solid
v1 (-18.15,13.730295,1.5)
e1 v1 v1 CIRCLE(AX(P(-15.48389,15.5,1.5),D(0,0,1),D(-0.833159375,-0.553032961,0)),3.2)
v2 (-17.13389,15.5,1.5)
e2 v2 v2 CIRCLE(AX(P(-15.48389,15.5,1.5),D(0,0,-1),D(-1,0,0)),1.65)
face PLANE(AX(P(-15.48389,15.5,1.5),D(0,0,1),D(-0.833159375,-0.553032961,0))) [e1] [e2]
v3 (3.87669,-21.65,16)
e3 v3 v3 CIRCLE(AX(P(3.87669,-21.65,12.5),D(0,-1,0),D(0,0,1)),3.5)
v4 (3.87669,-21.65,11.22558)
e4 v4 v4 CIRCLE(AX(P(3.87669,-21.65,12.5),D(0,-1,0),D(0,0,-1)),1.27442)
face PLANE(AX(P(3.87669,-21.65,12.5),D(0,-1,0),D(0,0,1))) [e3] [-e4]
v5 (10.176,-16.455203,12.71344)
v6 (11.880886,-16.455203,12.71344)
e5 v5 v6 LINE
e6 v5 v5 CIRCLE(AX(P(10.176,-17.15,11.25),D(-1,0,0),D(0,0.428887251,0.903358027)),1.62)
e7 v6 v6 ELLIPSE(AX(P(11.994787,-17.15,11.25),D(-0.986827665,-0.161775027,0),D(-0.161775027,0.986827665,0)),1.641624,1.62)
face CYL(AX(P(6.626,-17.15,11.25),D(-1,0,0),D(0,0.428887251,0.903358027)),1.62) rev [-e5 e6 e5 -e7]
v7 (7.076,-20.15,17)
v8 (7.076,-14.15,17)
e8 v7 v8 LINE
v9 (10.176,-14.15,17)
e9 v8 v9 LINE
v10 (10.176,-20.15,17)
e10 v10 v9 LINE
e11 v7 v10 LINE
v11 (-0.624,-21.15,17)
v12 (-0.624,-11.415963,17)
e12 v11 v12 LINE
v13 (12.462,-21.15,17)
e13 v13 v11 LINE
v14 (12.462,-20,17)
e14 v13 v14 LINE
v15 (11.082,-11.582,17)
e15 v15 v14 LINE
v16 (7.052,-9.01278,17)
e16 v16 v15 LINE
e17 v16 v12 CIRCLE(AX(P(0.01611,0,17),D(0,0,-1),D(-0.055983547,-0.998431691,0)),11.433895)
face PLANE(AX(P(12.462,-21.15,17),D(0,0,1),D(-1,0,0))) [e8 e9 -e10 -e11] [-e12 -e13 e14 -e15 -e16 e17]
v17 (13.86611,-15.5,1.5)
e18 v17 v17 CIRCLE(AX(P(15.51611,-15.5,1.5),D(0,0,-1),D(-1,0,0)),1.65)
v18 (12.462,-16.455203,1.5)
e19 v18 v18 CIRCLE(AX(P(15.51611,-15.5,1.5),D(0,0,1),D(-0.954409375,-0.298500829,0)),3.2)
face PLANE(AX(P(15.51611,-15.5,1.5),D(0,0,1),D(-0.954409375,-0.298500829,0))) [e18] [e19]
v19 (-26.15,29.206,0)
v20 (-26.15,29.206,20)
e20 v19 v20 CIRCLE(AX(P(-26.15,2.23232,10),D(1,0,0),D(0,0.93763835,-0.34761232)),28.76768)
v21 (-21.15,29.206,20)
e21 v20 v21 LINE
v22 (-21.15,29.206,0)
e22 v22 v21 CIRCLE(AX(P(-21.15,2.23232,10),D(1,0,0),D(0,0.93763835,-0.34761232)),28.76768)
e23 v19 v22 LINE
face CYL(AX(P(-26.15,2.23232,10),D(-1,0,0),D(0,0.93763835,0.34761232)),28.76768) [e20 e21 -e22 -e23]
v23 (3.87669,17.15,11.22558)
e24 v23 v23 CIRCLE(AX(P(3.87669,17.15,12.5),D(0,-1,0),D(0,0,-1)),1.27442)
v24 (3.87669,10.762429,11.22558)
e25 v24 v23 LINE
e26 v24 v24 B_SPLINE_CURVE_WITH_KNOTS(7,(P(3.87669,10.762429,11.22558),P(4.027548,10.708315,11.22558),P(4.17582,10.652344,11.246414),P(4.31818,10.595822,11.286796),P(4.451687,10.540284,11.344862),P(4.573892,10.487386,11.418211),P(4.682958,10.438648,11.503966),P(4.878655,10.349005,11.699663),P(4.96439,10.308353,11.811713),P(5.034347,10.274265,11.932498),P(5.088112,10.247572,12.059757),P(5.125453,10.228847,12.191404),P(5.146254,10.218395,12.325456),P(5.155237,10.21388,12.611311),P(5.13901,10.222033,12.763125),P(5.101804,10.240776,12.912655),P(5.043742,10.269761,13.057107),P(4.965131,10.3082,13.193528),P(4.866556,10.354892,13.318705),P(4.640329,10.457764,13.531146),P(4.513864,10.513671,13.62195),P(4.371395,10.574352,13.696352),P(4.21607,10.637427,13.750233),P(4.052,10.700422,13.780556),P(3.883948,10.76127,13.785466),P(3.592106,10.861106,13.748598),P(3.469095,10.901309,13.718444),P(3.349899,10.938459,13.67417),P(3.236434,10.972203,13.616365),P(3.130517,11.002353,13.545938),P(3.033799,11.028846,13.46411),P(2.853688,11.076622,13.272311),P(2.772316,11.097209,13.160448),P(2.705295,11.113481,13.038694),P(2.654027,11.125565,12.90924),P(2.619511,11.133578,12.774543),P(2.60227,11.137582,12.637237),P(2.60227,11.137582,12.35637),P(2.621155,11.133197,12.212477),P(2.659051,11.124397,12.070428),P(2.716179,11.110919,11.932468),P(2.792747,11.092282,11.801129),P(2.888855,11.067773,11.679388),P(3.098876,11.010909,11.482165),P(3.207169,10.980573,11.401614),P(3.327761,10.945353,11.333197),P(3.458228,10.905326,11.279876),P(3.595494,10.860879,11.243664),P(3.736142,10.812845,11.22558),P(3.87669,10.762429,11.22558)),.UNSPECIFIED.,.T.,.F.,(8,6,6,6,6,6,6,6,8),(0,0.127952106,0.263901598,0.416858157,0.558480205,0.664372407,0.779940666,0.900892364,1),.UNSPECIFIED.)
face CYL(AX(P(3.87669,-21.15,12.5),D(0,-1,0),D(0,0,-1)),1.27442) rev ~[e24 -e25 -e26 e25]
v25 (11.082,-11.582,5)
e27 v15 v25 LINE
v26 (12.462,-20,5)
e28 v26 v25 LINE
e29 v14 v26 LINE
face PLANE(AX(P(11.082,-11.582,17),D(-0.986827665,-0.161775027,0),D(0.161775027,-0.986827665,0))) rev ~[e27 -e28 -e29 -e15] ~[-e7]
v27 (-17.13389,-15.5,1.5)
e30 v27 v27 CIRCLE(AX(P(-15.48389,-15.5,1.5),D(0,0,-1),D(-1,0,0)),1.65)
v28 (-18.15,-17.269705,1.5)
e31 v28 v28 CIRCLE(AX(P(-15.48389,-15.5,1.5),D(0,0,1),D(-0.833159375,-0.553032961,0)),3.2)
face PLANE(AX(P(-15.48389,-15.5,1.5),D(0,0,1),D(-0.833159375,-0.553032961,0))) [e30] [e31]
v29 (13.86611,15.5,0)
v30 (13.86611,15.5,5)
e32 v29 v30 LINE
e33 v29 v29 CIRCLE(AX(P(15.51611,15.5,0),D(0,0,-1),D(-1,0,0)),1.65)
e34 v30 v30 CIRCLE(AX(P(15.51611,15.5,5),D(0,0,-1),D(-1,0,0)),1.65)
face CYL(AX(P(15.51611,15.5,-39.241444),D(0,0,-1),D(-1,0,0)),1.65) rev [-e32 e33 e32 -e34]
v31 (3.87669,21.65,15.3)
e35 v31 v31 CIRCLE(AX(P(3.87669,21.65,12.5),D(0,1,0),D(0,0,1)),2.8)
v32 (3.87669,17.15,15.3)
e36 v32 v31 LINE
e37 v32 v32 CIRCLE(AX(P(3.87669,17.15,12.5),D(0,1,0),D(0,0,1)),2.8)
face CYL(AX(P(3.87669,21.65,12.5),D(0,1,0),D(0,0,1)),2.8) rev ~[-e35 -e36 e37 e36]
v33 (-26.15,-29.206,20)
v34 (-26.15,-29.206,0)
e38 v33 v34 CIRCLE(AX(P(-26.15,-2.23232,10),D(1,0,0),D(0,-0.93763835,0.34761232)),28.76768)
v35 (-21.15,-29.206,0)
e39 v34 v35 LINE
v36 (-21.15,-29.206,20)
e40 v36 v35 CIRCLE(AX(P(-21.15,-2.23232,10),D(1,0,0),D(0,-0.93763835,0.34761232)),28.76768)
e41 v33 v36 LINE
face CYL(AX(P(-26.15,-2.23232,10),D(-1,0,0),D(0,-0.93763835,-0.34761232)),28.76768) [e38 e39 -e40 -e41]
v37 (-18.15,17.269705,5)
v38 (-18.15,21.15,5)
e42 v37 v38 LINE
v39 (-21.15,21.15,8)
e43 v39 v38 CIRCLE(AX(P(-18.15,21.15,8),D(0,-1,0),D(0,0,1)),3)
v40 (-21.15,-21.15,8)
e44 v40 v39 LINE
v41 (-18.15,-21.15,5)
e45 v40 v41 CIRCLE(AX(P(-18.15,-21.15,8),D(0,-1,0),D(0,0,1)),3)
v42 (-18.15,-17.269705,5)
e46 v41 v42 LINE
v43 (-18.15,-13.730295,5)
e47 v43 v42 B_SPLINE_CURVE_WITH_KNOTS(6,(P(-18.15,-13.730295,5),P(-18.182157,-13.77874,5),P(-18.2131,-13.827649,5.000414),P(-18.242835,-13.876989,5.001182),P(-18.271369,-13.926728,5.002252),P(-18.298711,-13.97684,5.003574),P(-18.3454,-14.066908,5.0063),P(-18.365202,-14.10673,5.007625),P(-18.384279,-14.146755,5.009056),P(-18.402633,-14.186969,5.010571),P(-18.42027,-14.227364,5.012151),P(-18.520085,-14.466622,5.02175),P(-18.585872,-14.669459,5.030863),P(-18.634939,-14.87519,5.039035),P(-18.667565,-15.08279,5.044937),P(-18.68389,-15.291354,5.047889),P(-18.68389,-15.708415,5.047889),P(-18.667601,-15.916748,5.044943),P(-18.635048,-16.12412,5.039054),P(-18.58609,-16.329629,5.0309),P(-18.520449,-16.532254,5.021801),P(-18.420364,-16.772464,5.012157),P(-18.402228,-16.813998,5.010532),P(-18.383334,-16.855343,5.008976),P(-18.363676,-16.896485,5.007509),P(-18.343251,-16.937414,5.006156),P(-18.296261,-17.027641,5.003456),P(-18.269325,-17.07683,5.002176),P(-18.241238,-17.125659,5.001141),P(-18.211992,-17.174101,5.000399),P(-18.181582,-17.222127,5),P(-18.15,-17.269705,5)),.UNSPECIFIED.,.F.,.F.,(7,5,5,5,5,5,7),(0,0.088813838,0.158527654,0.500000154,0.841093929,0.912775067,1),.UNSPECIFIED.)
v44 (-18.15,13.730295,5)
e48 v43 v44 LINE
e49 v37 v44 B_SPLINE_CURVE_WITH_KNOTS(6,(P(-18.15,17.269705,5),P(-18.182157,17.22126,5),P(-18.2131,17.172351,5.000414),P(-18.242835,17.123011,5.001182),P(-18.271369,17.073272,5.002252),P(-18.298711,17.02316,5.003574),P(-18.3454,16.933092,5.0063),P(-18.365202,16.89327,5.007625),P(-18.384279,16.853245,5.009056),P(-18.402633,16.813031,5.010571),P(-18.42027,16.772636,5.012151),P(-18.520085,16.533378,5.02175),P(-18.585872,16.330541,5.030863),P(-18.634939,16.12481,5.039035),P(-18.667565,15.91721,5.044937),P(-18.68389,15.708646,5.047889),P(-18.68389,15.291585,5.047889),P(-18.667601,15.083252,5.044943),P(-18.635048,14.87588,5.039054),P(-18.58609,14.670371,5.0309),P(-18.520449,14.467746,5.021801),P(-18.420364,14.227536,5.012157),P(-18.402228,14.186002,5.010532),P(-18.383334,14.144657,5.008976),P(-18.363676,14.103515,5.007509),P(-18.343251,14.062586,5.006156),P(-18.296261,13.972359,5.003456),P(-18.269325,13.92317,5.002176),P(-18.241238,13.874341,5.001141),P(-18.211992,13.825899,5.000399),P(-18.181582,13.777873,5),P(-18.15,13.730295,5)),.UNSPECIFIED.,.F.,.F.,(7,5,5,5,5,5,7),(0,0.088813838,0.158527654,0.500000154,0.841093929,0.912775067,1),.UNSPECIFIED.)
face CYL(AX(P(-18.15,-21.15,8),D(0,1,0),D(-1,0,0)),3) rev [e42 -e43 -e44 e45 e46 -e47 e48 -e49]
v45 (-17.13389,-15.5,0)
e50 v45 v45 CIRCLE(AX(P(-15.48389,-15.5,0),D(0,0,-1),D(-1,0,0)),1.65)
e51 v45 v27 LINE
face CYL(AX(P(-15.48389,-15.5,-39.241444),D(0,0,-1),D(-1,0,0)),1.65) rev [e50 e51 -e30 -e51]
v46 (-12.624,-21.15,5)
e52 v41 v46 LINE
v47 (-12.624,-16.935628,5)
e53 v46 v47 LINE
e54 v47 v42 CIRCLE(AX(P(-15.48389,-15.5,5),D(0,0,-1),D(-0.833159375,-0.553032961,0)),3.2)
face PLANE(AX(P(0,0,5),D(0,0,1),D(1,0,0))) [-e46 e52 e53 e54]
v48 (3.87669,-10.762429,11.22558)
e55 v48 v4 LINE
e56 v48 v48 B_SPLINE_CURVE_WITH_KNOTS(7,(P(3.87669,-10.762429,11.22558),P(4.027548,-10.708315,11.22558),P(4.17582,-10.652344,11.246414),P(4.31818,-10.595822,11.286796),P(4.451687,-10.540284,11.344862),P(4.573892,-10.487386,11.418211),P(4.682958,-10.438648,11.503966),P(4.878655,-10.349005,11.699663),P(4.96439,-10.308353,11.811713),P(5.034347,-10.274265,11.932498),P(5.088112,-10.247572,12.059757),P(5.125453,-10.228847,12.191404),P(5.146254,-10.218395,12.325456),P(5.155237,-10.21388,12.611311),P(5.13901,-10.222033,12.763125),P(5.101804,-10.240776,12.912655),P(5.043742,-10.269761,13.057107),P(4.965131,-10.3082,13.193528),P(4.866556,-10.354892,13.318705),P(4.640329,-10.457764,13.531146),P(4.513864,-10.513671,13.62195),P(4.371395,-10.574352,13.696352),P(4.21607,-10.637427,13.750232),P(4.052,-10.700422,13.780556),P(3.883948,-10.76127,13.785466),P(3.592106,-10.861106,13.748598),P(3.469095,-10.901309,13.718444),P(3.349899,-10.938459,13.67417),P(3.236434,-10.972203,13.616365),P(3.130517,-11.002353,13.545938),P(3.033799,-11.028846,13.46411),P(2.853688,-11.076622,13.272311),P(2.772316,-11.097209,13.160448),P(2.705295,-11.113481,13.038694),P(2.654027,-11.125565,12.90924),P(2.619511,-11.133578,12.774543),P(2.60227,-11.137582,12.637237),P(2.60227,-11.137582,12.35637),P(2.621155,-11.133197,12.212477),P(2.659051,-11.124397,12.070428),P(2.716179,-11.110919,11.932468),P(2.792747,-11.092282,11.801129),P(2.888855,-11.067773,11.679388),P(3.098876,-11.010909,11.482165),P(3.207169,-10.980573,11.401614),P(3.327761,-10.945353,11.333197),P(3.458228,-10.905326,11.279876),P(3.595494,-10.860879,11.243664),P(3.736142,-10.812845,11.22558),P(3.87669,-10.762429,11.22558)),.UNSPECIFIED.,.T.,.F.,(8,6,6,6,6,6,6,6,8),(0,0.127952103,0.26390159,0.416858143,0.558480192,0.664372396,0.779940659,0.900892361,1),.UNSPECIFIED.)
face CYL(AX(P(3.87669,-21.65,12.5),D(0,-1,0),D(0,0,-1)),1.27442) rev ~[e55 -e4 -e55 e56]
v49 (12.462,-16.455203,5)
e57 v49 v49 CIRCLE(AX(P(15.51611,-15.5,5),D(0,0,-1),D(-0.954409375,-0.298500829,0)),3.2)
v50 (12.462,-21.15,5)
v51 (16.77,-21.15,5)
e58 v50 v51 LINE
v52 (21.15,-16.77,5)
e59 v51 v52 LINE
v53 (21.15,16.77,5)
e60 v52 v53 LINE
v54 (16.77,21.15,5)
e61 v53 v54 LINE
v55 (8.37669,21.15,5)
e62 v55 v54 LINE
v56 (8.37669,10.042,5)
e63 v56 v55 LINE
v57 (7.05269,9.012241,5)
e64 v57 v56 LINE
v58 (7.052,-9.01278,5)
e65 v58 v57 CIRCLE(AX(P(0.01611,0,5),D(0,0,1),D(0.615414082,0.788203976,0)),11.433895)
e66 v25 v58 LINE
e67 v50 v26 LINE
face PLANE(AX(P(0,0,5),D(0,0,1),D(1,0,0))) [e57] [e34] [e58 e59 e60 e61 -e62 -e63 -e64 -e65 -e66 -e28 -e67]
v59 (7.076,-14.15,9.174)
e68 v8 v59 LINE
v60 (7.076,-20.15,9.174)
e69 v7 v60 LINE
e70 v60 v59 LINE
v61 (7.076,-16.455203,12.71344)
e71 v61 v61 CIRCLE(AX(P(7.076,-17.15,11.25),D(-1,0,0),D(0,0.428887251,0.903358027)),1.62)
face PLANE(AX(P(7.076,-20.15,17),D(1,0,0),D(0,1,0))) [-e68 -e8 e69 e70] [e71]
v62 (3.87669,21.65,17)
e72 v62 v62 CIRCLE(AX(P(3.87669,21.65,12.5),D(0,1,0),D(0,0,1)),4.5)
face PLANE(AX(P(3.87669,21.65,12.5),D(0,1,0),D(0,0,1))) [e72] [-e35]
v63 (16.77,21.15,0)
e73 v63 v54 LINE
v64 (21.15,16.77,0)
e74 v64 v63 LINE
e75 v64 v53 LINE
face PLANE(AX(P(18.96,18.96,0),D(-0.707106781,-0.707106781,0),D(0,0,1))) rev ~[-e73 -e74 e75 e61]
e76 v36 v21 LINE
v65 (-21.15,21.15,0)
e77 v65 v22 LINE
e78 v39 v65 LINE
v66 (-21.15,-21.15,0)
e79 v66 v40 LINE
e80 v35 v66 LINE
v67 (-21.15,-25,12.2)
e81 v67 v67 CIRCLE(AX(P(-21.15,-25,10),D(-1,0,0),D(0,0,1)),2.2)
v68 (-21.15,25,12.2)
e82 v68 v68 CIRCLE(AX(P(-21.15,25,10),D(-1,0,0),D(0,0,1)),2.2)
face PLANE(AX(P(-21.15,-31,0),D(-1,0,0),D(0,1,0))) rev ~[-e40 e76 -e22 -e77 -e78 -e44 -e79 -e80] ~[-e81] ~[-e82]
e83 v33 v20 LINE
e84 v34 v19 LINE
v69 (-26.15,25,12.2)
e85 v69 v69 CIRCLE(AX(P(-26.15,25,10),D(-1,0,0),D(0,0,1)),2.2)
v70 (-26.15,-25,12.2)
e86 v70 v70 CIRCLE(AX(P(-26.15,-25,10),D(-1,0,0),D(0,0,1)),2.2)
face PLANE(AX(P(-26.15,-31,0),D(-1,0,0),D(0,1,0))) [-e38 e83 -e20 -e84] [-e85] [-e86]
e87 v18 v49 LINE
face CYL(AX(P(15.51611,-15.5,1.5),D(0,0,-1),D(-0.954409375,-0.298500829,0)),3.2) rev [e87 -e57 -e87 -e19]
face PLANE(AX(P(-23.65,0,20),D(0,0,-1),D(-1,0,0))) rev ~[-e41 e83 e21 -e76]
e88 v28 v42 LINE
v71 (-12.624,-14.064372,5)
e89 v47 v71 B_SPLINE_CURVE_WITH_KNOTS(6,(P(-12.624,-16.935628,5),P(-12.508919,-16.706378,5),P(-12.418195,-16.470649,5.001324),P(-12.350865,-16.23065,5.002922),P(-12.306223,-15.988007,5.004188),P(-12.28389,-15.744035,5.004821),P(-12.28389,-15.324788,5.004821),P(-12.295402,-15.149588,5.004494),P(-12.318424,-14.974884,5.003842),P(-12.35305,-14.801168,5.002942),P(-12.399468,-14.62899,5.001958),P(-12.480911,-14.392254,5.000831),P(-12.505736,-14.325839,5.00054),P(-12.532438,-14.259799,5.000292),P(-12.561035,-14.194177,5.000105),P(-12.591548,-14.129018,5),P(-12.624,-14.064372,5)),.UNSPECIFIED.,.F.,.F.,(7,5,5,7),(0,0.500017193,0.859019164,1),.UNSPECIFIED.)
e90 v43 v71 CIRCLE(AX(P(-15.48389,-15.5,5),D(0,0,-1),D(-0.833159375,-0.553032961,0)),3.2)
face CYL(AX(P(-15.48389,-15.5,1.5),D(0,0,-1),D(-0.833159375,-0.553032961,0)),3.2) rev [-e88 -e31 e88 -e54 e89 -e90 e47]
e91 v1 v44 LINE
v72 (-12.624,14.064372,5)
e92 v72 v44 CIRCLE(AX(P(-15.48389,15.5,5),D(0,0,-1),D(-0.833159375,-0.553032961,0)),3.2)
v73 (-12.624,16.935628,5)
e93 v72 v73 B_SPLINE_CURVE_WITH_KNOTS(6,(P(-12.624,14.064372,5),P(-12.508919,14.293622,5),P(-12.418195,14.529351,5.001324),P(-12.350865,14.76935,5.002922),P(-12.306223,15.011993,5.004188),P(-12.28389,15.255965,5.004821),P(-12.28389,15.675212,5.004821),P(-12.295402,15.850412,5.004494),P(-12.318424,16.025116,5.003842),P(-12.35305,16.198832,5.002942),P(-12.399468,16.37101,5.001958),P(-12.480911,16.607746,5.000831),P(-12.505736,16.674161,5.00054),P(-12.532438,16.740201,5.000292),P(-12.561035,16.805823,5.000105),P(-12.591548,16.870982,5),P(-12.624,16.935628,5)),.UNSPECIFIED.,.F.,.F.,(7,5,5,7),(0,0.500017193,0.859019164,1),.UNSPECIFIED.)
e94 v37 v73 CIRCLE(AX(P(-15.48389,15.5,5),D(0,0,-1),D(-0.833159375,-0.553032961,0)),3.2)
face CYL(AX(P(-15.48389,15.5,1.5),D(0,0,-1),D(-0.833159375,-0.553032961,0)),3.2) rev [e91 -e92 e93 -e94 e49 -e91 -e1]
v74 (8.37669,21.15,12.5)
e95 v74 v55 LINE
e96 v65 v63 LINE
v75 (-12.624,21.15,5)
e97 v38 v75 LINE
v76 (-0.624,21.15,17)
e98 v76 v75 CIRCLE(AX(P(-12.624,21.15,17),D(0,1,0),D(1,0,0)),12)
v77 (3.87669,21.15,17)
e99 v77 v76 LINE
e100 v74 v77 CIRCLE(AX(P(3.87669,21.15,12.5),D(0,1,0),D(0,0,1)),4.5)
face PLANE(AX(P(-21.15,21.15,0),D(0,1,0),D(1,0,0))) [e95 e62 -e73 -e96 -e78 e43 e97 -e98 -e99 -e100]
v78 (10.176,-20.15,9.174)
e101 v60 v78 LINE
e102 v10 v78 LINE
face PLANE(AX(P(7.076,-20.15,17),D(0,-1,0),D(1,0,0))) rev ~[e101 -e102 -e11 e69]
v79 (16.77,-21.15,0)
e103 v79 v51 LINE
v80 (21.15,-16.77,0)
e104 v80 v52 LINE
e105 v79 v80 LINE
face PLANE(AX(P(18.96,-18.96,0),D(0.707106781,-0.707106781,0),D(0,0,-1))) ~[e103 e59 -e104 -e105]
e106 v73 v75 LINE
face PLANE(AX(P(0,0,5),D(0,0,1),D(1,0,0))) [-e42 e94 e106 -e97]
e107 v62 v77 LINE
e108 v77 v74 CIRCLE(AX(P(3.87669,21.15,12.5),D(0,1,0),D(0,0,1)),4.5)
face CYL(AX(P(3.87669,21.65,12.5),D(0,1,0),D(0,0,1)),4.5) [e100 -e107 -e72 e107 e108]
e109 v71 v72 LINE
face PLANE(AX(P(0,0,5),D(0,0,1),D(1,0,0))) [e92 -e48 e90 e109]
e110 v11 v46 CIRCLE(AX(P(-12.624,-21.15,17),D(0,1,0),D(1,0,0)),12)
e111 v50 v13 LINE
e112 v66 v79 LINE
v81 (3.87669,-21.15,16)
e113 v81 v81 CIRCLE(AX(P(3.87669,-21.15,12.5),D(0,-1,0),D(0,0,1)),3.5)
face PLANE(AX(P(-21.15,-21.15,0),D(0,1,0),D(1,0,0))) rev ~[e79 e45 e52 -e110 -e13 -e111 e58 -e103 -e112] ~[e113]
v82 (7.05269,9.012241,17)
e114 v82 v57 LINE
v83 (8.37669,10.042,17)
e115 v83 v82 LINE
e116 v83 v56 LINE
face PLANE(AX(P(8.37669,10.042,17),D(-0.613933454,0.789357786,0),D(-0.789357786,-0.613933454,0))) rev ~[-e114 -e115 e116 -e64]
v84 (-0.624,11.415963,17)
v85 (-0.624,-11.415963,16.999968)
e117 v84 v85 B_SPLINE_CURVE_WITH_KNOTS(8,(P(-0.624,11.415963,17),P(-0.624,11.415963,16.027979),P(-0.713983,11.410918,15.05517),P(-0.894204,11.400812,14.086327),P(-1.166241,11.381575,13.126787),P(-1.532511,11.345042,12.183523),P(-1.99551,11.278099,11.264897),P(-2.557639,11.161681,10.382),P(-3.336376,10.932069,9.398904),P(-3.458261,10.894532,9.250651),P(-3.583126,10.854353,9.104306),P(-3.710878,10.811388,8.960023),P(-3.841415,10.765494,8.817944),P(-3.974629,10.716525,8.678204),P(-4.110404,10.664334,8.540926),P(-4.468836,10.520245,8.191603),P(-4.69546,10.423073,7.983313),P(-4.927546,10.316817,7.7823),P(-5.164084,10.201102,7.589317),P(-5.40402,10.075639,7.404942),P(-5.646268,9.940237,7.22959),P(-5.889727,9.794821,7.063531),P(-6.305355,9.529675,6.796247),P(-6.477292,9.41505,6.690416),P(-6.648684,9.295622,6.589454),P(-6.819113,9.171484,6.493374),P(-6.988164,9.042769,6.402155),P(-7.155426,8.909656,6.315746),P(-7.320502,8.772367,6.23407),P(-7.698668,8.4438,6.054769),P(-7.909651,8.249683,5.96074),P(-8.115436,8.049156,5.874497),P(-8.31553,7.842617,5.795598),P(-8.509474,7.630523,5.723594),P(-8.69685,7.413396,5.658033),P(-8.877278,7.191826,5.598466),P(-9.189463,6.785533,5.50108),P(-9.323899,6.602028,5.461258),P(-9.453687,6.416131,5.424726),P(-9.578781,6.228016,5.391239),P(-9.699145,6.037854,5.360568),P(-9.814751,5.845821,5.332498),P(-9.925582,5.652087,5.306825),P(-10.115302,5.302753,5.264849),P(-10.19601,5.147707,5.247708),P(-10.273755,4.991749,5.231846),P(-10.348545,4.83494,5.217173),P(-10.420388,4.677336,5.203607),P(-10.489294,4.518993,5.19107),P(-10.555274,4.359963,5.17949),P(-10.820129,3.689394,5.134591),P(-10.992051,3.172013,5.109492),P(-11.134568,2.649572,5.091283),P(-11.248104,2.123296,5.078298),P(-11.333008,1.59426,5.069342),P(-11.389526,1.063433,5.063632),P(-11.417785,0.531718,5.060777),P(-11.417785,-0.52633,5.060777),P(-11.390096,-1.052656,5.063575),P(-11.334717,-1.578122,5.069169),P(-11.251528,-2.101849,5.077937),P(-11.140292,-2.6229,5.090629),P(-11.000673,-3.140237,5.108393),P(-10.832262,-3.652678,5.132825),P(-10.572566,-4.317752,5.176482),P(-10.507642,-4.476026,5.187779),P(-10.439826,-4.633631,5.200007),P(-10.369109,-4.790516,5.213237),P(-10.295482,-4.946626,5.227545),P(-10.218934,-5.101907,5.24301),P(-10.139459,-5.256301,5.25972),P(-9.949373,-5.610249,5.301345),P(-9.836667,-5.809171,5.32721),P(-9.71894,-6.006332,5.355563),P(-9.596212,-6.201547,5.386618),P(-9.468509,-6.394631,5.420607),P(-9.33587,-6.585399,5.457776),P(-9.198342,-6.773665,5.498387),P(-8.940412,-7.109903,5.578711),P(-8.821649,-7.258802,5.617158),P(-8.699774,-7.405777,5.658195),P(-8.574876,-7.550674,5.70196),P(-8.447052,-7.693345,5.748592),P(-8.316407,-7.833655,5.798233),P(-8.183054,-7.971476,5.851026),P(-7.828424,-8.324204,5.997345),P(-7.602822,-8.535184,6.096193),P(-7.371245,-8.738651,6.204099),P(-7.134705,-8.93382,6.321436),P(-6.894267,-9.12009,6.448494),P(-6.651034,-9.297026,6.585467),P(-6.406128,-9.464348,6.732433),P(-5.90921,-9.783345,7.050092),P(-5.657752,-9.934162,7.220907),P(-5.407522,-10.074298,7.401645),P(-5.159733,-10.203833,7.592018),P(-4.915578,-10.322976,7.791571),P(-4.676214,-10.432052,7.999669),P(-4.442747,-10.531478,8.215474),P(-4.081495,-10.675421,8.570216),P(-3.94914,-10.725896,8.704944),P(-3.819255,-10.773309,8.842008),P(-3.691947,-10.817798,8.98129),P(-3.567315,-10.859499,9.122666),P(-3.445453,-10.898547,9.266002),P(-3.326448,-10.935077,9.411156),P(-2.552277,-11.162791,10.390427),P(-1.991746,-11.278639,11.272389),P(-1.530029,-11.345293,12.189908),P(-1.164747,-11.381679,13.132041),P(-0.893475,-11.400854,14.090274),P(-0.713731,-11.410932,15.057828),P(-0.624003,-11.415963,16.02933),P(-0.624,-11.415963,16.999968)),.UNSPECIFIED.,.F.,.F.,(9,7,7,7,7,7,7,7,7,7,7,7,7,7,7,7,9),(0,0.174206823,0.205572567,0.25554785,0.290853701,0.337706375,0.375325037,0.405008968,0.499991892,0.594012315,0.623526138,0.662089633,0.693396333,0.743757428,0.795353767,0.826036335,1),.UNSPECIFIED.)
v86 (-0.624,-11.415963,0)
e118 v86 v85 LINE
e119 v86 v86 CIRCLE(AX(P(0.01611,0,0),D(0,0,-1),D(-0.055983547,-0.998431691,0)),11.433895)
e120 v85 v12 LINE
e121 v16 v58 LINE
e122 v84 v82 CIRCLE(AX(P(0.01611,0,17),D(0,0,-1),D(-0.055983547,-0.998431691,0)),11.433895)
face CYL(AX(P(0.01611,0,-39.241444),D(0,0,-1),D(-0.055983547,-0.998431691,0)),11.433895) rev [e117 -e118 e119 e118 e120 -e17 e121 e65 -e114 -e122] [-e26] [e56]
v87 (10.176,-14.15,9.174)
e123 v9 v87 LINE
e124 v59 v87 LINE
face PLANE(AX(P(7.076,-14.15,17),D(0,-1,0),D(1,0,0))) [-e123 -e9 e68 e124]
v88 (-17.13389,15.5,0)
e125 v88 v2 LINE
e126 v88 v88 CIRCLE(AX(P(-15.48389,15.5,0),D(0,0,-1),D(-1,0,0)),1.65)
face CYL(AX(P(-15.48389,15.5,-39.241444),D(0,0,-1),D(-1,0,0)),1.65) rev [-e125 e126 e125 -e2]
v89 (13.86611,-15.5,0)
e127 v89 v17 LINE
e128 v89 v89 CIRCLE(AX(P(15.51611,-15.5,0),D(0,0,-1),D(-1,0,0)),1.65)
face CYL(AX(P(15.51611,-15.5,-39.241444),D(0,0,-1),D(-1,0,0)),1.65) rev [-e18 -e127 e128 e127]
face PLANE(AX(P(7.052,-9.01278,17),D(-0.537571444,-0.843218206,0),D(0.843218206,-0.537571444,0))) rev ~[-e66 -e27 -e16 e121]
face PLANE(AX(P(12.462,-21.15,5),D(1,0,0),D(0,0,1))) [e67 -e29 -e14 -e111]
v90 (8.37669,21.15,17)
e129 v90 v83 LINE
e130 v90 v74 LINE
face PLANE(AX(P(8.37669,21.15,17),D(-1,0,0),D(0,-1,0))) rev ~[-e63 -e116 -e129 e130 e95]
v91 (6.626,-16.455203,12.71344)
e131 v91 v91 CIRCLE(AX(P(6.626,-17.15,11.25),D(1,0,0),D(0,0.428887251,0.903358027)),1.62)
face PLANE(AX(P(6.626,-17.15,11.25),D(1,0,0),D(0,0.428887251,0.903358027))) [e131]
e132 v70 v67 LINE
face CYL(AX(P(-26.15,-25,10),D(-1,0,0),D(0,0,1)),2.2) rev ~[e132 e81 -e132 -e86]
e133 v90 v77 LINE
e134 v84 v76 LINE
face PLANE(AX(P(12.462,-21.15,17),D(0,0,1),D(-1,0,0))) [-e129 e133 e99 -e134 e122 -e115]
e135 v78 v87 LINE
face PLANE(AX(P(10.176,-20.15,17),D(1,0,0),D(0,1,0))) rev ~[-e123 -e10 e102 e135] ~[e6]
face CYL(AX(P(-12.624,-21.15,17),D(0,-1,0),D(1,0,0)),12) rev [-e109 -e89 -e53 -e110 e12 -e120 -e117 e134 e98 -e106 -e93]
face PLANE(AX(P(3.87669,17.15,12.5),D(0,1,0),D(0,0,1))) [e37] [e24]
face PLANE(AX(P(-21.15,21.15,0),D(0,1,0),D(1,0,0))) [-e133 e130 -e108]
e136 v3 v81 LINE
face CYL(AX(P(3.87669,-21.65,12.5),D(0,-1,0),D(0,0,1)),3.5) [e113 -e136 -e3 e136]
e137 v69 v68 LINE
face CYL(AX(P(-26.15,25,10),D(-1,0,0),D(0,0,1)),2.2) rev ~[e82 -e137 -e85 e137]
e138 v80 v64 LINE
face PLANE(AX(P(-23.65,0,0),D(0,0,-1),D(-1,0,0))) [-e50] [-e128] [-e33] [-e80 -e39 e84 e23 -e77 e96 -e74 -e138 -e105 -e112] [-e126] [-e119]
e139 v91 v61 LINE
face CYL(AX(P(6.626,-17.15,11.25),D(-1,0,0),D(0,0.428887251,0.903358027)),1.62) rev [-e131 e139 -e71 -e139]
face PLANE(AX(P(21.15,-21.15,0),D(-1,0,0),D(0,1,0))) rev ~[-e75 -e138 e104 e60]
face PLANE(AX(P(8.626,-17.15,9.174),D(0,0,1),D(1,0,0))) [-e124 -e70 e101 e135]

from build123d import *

# Parameters (mm, degrees)
SKETCH1_W               = 42.3
SKETCH1_H               = 42.3
BOSS_EXTRUDE1_DEPTH     = 5
CHAMFER1_SIZE           = 4.38
SKETCH4_W               = 5
SKETCH4_H               = 62
BOSS_EXTRUDE2_DEPTH     = 20
SKETCH5_R               = 2.2
CUT_EXTRUDE3_DEPTH      = 60.985748307
BOSS_EXTRUDE3_DEPTH     = 42.3
FILLET1_R               = 3
CUT_EXTRUDE1_DEPTH      = 44.24144424
CUT_EXTRUDE1_DEPTH_BACK = 44.24144424
SKETCH2_R               = 11.433895
SKETCH2_R_2             = 1.65
CUT_EXTRUDE2_DEPTH      = 44.24144424
CUT_EXTRUDE2_DEPTH_BACK = 3.5
SKETCH3_R               = 3.2
SKETCH7_R               = 1.27442
CUT_EXTRUDE4_DEPTH      = 62.672076339
BOSS_EXTRUDE4_START     = 0.5
SKETCH8_R               = 3.5
SKETCH8_R_2             = 1.27442
BOSS_EXTRUDE4_DEPTH     = 0.5
SKETCH9_R               = 2.8
CUT_EXTRUDE5_DEPTH      = 4
BOSS_EXTRUDE5_START     = 0.5
SKETCH10_R              = 4.5
SKETCH10_R_2            = 2.8
BOSS_EXTRUDE5_DEPTH     = 0.5
SKETCH11_W              = 3.1
SKETCH11_H              = 6
CUT_EXTRUDE6_DEPTH      = 7.826
CUT_EXTRUDE7_DEPTH      = 50.648434779
CUT_EXTRUDE7_DEPTH_BACK = 0.45
SKETCH12_R              = 1.62
CUT_EXTRUDE8_REACH      = 45.975


with BuildPart() as part:
    # Sketch1 → Boss-Extrude1 (new body)
    with BuildSketch(Plane.XY):
        Rectangle(SKETCH1_W, SKETCH1_H)
    extrude(amount=BOSS_EXTRUDE1_DEPTH)

    # Chamfer1
    chamfer1_edges = [part.edges().sort_by_distance(p)[0] for p in [
        (21.15, -21.15, 2.5),
        (21.15, 21.15, 2.5),
    ]]
    chamfer(chamfer1_edges, length=CHAMFER1_SIZE)

    # Sketch4 → Boss-Extrude2 (add)
    with BuildSketch(Plane(origin=(0, 0, 0), x_dir=(-1, 0, 0), z_dir=(0, 0, -1))):
        with Locations((23.65, 0)):
            Rectangle(SKETCH4_W, SKETCH4_H)
    extrude(amount=-BOSS_EXTRUDE2_DEPTH)

    # Sketch5 → Cut-Extrude3 (cut, through all)
    with BuildSketch(Plane.ZY.offset(26.15)):
        with Locations((10, 25)):
            Circle(SKETCH5_R)
        with Locations((10, -25)):
            Circle(SKETCH5_R)
        with BuildLine():
            Line((0, 29.205999997), (0, 32.205999997))
            Line((0, 32.205999997), (20, 32.205999997))
            Line((20, 32.205999997), (20, 29.205999997))
            ThreePointArc((20, 29.205999997), (10, 31), (0, 29.205999997))
        make_face()
        with BuildLine():
            Line((20, -29.205999997), (20, -32.205999997))
            Line((20, -32.205999997), (0, -32.205999997))
            Line((0, -32.205999997), (0, -29.205999997))
            ThreePointArc((0, -29.205999997), (10, -31), (20, -29.205999997))
        make_face()
    extrude(amount=-CUT_EXTRUDE3_DEPTH, mode=Mode.SUBTRACT)

    # Sketch6 → Boss-Extrude3 (add)
    with BuildSketch(Plane.XZ.offset(21.15)):
        with BuildLine():
            Line((12.462, 5), (12.462, 17))
            Line((12.462, 17), (-0.624, 17))
            ThreePointArc((-0.624, 17), (-4.138718626, 8.514718626), (-12.624, 5))
            Line((-12.624, 5), (12.462, 5))
        make_face()
    extrude(amount=-BOSS_EXTRUDE3_DEPTH)

    # Fillet1
    fillet1_edges = [part.edges().sort_by_distance(p)[0] for p in [
        (-21.15, 0, 5),
    ]]
    fillet(fillet1_edges, radius=FILLET1_R)

    # Sketch2 → Cut-Extrude1 (cut, two sides: drawn at the far end of the back side and taken through both)
    with BuildSketch(Plane.XY.offset(5).offset(-CUT_EXTRUDE1_DEPTH_BACK)):
        with Locations(Location((0.01611, 0, 0), (0, 0, 266.790701126))):
            Circle(SKETCH2_R)
        with Locations(Location((-15.48389, 15.5, 0), (0, 0, 180))):
            Circle(SKETCH2_R_2)
        with Locations(Location((15.51611, 15.5, 0), (0, 0, 180))):
            Circle(SKETCH2_R_2)
        with Locations(Location((15.51611, -15.5, 0), (0, 0, 180))):
            Circle(SKETCH2_R_2)
        with Locations(Location((-15.48389, -15.5, 0), (0, 0, 180))):
            Circle(SKETCH2_R_2)
    extrude(amount=CUT_EXTRUDE1_DEPTH + CUT_EXTRUDE1_DEPTH_BACK, mode=Mode.SUBTRACT)

    # Sketch3 → Cut-Extrude2 (cut, two sides: drawn at the far end of the back side and taken through both)
    with BuildSketch(Plane.XY.offset(5).offset(-CUT_EXTRUDE2_DEPTH_BACK)):
        with Locations(Location((-15.48389, 15.5, 0), (0, 0, 213.57533661))):
            Circle(SKETCH3_R)
        with Locations(Location((-15.48389, -15.5, 0), (0, 0, 213.57533661))):
            Circle(SKETCH3_R)
        with Locations(Location((15.51611, -15.5, 0), (0, 0, 197.367581673))):
            Circle(SKETCH3_R)
    extrude(amount=CUT_EXTRUDE2_DEPTH + CUT_EXTRUDE2_DEPTH_BACK, mode=Mode.SUBTRACT)

    # Sketch7 → Cut-Extrude4 (cut, through all)
    with BuildSketch(Plane.XZ.offset(21.15)):
        with Locations(Location((3.87669, 12.5, 0), (0, 0, 270))):
            Circle(SKETCH7_R)
    extrude(amount=-CUT_EXTRUDE4_DEPTH, mode=Mode.SUBTRACT)

    # Sketch8 → Boss-Extrude4 (add)
    with BuildSketch(Plane.XZ.offset(21.15).offset(BOSS_EXTRUDE4_START)):
        with Locations(Location((3.87669, 12.5, 0), (0, 0, 90))):
            Circle(SKETCH8_R)
        with Locations(Location((3.87669, 12.5, 0), (0, 0, 270))):
            Circle(SKETCH8_R_2, mode=Mode.SUBTRACT)
    extrude(amount=-BOSS_EXTRUDE4_DEPTH)

    # Sketch9 → Cut-Extrude5 (cut)
    with BuildSketch(Plane(origin=(0, 21.15, 0), x_dir=(1, 0, 0), z_dir=(0, 1, 0))):
        with Locations(Location((3.87669, -12.5, 0), (0, 0, 270))):
            Circle(SKETCH9_R)
    extrude(amount=-CUT_EXTRUDE5_DEPTH, mode=Mode.SUBTRACT)

    # Sketch10 → Boss-Extrude5 (add)
    with BuildSketch(Plane(origin=(0, 21.15, 0), x_dir=(1, 0, 0), z_dir=(0, 1, 0)).offset(BOSS_EXTRUDE5_START)):
        with Locations(Location((3.87669, -12.5, 0), (0, 0, 270))):
            Circle(SKETCH10_R)
        with Locations(Location((3.87669, -12.5, 0), (0, 0, 270))):
            Circle(SKETCH10_R_2, mode=Mode.SUBTRACT)
    extrude(amount=-BOSS_EXTRUDE5_DEPTH)

    # Sketch11 → Cut-Extrude6 (cut)
    with BuildSketch(Plane.XY.offset(17)):
        with Locations((8.626, -17.15)):
            Rectangle(SKETCH11_W, SKETCH11_H)
    extrude(amount=-CUT_EXTRUDE6_DEPTH, mode=Mode.SUBTRACT)

    # Sketch12 → Cut-Extrude7 (cut, two sides: drawn at the far end of the back side and taken through both)
    with BuildSketch(Plane(origin=(7.076, 0, 0), x_dir=(0, 0, -1), z_dir=(1, 0, 0)).offset(-CUT_EXTRUDE7_DEPTH_BACK)):
        with Locations(Location((-11.25, -17.15, 0), (0, 0, 154.603036972))):
            Circle(SKETCH12_R)
    extrude(amount=CUT_EXTRUDE7_DEPTH + CUT_EXTRUDE7_DEPTH_BACK, mode=Mode.SUBTRACT)

    # Cut-Extrude8: up to this face of the body (flat: up to its plane)
    cut_extrude8_end = Plane(part.part.faces().sort_by_distance((16.794233337, 1.179955887, 5))[0])
    # Sketch13 → Cut-Extrude8 (cut, up to the picked face)
    with BuildSketch(Plane.XY.offset(17), mode=Mode.PRIVATE) as cut_extrude8_sk1:
        with BuildLine():
            Line((12.462, 21.15), (8.37669, 21.15))
            Line((8.37669, 21.15), (8.37669, 10.042))
            Line((8.37669, 10.042), (7.05269, 9.012241496))
            ThreePointArc((7.05269, 9.012241496), (11.450004992, -0.000437691), (7.052, -9.012780191))
            Line((7.052, -9.012780191), (11.082, -11.582))
            Line((11.082, -11.582), (12.462, -20))
            Line((12.462, -20), (12.462, 21.15))
        make_face()
    cut_extrude8_tool1 = split(extrude(cut_extrude8_sk1.sketch, amount=-CUT_EXTRUDE8_REACH, mode=Mode.PRIVATE), bisect_by=cut_extrude8_end, keep=Keep.BOTH, mode=Mode.PRIVATE)
    add(cut_extrude8_tool1.solids().sort_by(Axis((10.711689, 5.447253, 17), (0, 0, -1)))[0], mode=Mode.SUBTRACT)


solid = part.part
